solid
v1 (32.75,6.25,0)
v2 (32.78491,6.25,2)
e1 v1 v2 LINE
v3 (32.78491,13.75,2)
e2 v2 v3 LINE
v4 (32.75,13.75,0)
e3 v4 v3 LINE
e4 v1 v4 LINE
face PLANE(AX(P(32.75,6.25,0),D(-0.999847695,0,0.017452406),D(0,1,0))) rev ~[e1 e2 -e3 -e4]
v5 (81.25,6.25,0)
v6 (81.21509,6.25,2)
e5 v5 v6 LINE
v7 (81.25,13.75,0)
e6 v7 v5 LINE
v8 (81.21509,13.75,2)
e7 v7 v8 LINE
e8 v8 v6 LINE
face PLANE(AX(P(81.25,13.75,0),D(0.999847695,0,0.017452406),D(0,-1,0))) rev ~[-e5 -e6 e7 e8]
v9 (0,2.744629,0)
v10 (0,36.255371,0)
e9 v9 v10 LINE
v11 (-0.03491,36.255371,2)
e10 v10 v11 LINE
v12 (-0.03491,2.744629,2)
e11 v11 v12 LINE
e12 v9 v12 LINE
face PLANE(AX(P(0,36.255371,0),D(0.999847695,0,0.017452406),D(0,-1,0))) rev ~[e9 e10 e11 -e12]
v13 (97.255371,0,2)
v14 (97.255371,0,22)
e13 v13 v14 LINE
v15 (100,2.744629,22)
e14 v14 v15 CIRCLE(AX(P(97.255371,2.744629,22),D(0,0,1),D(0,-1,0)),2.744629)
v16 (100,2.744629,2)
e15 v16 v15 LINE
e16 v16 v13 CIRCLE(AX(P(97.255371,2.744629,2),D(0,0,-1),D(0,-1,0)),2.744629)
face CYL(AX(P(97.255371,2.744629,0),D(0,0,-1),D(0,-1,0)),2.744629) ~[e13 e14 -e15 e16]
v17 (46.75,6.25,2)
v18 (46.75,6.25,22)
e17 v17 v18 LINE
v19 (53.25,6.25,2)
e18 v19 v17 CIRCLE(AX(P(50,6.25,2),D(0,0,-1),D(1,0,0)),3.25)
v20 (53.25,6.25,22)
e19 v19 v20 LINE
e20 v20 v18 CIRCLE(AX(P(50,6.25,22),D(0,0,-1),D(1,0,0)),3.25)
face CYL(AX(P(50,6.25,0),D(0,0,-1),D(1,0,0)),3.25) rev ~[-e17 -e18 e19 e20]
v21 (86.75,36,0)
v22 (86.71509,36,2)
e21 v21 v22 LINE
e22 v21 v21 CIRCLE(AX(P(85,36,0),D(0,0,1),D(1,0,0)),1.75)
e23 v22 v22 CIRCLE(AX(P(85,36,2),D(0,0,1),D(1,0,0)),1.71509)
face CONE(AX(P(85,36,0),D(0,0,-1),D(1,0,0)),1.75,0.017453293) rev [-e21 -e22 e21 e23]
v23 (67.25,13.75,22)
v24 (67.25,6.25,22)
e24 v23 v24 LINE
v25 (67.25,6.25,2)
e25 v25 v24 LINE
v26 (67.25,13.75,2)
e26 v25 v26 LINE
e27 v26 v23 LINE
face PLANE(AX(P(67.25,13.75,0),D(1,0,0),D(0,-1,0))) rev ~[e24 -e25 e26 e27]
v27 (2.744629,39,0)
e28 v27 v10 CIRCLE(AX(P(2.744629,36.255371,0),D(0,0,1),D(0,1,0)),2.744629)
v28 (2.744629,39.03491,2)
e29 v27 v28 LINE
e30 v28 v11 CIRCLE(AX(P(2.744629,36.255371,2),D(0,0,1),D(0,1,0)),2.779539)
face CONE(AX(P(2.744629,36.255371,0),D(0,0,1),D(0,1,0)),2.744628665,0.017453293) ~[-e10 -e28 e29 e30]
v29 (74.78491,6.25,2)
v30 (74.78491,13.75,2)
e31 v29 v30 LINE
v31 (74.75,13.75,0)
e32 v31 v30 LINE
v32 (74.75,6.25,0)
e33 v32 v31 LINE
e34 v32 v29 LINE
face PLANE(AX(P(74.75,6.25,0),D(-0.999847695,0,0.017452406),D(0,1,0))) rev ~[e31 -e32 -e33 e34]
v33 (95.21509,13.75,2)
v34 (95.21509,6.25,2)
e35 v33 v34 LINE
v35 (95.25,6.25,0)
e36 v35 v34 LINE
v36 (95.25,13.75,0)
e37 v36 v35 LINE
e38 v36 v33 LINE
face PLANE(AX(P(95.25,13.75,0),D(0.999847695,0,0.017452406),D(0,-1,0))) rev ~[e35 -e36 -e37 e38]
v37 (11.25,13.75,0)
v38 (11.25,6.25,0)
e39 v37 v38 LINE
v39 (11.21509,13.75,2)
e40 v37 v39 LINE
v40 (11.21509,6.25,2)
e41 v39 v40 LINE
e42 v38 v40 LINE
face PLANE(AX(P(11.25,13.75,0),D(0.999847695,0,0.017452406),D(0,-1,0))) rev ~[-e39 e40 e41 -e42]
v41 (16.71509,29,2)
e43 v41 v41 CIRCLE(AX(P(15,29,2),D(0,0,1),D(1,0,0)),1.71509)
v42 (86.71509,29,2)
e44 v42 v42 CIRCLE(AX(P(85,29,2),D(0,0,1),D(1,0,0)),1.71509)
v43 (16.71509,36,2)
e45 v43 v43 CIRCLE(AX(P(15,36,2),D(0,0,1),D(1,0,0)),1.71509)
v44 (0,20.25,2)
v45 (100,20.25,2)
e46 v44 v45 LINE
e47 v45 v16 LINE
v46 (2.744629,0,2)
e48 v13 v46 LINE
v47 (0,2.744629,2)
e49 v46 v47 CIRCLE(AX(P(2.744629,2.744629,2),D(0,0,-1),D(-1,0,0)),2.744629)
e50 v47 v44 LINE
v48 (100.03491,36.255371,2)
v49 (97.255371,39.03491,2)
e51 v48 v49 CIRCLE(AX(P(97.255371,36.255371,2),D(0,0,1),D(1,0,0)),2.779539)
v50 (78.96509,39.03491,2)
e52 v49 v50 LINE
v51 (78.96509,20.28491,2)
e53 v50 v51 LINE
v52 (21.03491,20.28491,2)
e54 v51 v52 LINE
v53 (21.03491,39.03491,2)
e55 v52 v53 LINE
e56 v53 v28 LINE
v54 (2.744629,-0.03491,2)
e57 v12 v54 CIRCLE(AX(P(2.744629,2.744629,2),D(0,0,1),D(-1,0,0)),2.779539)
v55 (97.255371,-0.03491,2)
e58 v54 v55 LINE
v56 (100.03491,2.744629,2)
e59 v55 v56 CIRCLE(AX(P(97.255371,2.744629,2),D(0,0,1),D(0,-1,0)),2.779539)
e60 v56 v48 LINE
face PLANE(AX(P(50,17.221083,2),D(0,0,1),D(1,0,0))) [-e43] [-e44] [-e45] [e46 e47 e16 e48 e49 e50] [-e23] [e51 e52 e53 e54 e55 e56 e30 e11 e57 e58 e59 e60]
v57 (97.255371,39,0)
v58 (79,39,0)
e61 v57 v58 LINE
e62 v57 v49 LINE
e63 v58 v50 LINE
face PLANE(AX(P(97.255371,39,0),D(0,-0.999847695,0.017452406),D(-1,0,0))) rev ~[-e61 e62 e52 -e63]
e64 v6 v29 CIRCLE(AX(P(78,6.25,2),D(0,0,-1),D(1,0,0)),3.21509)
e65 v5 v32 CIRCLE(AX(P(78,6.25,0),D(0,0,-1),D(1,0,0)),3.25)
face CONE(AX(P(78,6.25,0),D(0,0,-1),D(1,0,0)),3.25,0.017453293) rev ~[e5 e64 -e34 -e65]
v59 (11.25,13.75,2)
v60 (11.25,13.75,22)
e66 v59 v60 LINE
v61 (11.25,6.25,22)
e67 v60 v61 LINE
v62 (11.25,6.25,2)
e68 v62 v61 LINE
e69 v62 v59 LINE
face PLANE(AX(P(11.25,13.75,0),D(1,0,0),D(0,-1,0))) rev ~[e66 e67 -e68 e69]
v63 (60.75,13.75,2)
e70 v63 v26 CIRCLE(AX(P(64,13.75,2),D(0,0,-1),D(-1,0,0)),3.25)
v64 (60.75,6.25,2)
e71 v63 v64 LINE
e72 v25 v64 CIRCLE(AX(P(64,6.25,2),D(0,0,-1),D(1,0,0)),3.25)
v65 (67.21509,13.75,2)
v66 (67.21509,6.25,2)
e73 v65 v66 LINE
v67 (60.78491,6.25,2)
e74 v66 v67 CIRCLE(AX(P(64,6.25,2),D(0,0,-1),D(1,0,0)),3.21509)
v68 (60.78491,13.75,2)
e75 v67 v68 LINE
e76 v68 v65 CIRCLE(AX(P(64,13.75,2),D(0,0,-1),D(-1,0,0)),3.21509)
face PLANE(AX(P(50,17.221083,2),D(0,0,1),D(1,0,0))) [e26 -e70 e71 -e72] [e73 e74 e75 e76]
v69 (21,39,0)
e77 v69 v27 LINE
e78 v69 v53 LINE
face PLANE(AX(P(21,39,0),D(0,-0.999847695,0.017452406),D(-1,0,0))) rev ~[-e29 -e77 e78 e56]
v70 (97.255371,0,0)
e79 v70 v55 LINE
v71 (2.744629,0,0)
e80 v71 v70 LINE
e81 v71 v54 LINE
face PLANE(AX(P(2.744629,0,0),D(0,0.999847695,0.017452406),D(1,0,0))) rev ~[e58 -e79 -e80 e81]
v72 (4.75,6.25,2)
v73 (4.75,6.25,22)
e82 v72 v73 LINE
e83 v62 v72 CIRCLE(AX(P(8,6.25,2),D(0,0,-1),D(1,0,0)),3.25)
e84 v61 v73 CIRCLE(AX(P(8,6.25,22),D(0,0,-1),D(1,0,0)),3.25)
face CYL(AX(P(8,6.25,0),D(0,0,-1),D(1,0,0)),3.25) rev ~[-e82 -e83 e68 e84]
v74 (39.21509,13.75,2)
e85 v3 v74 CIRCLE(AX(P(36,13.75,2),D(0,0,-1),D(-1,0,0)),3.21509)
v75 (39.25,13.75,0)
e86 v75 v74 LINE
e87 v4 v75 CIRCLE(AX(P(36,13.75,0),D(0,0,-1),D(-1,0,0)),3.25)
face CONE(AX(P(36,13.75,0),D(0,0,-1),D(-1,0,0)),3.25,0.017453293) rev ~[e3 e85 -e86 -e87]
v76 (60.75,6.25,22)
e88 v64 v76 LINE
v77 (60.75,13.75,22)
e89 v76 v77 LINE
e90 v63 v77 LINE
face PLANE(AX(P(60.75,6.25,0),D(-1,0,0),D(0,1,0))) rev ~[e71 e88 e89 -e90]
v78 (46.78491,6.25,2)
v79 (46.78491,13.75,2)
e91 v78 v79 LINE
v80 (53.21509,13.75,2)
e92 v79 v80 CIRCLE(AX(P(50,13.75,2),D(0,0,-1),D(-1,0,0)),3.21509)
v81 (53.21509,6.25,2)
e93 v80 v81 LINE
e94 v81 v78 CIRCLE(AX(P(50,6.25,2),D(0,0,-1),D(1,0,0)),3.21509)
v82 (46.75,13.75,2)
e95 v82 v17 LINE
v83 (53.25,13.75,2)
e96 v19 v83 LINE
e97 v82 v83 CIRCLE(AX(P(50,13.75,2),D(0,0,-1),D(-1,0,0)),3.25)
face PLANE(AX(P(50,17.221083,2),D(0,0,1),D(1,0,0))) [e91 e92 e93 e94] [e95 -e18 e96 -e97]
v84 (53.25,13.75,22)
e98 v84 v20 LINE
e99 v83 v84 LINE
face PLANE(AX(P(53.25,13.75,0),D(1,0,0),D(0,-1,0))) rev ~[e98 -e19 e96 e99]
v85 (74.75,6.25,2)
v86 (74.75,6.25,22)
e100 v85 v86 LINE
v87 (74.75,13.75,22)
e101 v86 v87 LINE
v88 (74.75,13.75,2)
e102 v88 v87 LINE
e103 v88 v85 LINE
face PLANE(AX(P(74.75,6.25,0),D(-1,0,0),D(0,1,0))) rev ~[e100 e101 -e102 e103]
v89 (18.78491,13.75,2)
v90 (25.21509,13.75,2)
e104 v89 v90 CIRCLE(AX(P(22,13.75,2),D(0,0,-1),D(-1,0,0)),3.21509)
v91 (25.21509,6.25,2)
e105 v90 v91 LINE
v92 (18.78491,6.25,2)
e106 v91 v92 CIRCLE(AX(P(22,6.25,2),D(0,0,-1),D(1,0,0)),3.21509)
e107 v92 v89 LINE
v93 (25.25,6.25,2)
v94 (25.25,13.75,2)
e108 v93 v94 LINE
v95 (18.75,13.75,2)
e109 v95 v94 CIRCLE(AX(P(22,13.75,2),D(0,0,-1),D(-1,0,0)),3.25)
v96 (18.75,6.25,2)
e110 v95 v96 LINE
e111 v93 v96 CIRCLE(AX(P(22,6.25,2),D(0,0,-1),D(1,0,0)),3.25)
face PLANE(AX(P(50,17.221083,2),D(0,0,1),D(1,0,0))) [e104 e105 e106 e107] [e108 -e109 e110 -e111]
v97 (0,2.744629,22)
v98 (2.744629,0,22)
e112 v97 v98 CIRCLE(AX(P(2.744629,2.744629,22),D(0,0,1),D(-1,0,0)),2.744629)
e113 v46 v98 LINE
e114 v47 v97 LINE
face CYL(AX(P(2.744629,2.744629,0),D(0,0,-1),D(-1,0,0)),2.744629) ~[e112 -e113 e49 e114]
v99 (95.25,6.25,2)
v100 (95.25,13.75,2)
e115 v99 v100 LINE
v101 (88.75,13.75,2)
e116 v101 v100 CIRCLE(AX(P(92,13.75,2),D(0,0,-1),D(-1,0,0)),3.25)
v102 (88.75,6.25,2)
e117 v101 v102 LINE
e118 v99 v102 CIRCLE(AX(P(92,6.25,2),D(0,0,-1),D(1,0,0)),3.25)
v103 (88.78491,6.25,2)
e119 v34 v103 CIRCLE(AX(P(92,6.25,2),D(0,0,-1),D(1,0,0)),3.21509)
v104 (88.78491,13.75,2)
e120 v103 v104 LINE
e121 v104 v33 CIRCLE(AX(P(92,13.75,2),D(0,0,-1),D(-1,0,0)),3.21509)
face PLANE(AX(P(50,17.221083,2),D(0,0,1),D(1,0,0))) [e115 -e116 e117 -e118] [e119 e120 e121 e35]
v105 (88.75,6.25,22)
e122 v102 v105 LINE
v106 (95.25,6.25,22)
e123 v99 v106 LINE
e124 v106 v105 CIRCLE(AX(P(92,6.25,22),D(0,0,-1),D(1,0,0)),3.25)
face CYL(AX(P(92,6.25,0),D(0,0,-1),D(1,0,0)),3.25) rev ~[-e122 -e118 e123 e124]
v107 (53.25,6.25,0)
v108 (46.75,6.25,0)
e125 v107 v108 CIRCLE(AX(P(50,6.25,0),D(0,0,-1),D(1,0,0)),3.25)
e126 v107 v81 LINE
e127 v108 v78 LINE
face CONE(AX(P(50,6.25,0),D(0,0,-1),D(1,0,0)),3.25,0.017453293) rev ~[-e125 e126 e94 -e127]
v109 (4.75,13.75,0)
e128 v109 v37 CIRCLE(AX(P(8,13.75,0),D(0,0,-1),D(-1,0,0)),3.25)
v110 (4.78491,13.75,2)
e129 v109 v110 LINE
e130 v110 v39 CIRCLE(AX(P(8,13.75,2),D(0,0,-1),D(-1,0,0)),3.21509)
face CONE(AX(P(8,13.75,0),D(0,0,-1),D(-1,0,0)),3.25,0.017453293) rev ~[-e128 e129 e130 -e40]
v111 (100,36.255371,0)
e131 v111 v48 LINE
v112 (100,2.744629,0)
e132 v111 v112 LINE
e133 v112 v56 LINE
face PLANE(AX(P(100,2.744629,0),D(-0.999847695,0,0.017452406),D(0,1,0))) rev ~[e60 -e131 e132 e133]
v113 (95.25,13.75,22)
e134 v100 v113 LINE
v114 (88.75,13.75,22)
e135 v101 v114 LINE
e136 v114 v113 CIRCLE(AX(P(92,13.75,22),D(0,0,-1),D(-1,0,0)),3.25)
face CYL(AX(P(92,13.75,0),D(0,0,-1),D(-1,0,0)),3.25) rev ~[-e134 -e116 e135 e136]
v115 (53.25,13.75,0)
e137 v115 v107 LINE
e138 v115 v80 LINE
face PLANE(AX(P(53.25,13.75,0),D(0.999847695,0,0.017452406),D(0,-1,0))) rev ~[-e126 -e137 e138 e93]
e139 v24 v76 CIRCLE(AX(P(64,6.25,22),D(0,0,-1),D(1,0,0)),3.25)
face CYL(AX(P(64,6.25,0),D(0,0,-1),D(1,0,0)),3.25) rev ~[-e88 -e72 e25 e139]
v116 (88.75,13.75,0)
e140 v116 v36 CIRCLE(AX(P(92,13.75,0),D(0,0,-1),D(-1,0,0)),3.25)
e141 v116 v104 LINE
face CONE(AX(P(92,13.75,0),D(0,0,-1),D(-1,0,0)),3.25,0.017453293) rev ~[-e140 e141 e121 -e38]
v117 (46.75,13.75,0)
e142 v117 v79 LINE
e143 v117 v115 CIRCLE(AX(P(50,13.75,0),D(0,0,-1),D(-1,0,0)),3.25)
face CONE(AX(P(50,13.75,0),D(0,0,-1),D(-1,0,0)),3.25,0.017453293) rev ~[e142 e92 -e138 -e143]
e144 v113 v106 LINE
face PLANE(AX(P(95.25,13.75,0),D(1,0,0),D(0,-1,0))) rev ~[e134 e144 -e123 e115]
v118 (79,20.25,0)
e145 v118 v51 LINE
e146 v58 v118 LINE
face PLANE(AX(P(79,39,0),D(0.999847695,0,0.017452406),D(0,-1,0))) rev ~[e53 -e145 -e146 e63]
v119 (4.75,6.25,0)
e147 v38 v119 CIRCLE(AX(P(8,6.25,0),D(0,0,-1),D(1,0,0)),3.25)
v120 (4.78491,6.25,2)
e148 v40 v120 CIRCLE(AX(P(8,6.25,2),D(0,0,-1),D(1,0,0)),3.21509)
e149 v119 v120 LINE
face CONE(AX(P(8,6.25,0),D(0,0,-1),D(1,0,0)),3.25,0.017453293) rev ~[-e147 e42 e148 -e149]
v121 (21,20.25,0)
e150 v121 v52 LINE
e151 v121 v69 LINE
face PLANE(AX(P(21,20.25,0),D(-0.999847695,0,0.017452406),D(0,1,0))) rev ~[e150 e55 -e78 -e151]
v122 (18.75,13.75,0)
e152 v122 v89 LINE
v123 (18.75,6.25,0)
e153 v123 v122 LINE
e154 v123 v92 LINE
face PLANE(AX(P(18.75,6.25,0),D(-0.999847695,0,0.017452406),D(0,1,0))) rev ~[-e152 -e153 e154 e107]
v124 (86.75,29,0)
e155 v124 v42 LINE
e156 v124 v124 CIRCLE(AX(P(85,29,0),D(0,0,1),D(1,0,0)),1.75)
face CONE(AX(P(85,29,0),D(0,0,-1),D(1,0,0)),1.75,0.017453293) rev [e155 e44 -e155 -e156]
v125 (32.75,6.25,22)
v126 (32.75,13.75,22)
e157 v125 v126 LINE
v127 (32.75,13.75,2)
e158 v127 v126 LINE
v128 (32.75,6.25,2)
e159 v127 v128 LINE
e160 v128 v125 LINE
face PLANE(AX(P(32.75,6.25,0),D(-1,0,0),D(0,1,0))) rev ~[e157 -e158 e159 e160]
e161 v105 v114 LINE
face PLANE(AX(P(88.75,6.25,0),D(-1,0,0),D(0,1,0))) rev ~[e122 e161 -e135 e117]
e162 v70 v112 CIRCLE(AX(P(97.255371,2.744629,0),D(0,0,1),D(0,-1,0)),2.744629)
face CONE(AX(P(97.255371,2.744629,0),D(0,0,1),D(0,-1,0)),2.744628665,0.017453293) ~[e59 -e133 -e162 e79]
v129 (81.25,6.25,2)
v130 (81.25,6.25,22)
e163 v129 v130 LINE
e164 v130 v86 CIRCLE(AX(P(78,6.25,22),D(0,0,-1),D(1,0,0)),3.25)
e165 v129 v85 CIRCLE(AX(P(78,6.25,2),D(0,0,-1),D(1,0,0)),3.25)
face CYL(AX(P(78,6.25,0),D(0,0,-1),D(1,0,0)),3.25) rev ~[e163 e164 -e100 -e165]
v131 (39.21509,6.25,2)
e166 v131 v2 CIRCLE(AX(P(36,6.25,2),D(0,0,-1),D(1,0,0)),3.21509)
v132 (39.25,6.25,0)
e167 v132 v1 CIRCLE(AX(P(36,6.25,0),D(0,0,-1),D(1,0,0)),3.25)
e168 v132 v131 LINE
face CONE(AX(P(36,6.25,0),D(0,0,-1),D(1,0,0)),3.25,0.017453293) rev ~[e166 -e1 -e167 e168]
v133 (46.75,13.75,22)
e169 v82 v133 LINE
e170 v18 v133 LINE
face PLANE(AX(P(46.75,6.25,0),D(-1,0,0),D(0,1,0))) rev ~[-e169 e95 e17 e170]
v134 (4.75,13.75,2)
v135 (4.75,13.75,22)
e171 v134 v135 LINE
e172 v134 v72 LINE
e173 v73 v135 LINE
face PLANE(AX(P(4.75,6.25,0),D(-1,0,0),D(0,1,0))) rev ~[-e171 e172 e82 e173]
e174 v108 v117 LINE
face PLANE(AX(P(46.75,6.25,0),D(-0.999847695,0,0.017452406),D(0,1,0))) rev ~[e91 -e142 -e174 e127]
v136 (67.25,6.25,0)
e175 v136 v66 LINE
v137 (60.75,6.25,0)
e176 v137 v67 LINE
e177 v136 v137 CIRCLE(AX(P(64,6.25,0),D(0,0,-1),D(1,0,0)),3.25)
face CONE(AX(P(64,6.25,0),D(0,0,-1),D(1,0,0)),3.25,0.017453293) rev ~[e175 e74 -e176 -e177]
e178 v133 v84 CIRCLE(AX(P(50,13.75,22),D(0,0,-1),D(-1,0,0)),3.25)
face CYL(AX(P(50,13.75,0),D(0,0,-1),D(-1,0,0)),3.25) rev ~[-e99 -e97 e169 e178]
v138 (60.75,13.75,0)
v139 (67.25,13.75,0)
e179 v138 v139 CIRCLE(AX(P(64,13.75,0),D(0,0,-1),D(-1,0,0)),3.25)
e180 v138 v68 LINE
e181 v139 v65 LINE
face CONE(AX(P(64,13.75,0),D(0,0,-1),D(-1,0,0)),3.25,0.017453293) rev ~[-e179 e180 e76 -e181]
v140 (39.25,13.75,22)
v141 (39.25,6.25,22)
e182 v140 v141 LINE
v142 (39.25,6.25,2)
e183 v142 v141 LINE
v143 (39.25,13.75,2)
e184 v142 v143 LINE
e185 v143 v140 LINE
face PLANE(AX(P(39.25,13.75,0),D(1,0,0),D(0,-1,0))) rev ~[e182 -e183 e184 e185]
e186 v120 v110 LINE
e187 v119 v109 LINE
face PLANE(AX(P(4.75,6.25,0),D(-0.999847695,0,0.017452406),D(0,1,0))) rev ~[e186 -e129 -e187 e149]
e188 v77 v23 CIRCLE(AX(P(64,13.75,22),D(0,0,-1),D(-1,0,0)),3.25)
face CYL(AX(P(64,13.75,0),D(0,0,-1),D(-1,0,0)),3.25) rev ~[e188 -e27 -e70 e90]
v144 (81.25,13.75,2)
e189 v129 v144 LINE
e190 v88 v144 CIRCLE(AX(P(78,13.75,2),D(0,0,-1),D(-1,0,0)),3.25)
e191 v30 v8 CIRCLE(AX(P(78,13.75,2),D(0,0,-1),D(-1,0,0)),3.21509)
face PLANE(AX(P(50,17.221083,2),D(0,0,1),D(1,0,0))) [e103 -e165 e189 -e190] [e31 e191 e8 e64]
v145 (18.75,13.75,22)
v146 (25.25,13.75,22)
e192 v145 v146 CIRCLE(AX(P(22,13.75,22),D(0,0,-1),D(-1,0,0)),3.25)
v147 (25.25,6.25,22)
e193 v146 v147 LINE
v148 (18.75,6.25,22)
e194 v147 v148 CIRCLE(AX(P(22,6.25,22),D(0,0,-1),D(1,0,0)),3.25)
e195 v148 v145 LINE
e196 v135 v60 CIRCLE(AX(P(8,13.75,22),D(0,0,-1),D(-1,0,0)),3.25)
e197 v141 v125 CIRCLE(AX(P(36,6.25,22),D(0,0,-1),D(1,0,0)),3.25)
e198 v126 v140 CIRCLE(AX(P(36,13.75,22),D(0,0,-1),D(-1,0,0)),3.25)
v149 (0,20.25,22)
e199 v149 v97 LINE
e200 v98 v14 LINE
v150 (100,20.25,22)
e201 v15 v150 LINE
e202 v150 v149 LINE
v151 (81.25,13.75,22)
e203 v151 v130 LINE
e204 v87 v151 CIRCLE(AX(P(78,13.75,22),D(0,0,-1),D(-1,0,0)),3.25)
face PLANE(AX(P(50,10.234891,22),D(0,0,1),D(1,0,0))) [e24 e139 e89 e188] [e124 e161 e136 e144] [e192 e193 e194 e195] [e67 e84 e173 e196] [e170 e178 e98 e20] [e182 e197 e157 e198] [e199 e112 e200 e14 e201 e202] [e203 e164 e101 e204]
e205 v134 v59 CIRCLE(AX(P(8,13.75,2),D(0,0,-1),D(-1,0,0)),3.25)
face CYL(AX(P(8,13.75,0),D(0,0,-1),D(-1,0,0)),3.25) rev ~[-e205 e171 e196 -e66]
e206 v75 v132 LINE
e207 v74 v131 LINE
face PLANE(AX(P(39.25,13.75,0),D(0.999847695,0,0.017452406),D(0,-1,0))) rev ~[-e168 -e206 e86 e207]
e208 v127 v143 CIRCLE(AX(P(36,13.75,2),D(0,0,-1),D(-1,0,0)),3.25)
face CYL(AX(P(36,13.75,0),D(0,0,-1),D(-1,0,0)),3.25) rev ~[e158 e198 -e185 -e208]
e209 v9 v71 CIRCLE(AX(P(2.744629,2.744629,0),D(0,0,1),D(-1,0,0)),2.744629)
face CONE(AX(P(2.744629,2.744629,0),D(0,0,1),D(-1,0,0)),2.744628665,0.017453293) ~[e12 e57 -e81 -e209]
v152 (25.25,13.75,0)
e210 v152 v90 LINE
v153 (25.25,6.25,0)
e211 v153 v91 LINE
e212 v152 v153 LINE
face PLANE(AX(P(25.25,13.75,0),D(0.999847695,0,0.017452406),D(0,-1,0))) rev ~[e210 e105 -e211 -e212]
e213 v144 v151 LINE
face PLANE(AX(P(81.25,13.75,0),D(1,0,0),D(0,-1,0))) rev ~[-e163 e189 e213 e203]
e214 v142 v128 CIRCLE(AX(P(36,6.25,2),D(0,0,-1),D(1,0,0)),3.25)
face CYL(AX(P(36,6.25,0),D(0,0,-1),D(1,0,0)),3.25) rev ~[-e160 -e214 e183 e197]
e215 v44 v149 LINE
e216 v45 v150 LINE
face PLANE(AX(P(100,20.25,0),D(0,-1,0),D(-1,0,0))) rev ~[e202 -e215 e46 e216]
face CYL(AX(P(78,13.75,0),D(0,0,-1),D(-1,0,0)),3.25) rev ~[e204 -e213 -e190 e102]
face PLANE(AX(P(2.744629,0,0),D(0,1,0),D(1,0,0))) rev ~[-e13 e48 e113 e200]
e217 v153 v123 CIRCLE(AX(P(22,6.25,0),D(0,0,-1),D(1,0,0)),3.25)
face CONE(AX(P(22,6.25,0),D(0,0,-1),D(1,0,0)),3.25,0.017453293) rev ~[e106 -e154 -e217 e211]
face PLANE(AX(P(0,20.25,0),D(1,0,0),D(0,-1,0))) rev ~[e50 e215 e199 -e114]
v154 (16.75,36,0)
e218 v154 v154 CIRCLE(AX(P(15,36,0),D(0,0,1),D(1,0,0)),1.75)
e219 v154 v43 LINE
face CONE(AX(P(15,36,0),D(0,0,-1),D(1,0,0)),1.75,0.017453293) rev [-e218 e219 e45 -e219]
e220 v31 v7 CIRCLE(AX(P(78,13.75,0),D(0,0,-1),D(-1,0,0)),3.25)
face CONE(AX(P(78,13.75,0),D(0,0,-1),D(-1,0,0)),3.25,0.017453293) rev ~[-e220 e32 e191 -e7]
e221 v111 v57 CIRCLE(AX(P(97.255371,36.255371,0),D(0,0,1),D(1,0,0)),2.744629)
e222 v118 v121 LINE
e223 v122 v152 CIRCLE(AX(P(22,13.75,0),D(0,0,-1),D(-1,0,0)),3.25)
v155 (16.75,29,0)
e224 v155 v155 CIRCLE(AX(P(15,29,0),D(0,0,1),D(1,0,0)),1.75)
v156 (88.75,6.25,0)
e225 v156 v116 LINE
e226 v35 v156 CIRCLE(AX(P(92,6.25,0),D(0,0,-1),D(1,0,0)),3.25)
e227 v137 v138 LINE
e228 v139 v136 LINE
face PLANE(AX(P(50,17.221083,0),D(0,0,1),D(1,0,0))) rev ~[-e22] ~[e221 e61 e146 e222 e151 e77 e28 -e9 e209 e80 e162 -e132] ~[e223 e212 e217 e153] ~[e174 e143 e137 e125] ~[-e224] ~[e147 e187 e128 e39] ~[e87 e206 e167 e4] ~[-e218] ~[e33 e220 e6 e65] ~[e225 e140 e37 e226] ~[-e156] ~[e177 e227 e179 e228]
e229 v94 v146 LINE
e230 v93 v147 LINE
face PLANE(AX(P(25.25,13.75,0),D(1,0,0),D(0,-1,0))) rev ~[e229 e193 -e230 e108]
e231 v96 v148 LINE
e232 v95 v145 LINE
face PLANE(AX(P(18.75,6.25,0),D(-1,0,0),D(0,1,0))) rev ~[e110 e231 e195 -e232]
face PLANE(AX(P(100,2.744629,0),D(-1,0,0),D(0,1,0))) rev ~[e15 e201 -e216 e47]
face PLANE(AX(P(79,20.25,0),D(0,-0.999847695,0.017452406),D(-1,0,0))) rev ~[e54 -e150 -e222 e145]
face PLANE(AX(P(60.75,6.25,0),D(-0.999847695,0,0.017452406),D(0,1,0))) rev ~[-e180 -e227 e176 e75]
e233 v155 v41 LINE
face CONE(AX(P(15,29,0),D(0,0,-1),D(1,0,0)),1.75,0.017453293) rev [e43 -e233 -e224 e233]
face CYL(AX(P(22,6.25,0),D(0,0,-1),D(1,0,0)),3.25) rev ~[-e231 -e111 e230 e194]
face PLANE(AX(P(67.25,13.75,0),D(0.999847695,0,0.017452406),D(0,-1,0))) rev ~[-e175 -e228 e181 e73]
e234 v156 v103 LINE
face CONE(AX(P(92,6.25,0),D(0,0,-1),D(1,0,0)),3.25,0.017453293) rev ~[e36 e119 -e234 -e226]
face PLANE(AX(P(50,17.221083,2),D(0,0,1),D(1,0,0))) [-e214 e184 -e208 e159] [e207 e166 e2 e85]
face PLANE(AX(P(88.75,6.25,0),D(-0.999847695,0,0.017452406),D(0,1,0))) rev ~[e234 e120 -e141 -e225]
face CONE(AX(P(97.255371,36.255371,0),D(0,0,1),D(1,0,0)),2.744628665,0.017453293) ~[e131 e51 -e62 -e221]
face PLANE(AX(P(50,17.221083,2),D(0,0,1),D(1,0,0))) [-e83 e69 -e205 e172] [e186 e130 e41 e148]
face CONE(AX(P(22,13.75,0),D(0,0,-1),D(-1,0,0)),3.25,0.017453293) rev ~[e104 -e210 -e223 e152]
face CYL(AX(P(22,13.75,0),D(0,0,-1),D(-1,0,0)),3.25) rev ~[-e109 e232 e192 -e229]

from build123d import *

# Parameters (mm, degrees)
SKETCH_1_R      = 1.75
EXTRUDE_3_DEPTH = 2
EXTRUDE_3_DRAFT = -1
EXTRUDE_4_DEPTH = 22


with BuildPart() as part:
    # 草图1 → 凸台-拉伸3 (with draft: the straight prism first)
    with BuildSketch(Plane.XY):
        with BuildLine():
            ThreePointArc((0, 2.744628665), (0.803883124, 0.803883124), (2.744628665, 0))
            Line((2.744628665, 0), (97.255371335, 0))
            ThreePointArc((97.255371335, 0), (99.196116876, 0.803883124), (100, 2.744628665))
            Line((100, 2.744628665), (100, 36.255371335))
            ThreePointArc((100, 36.255371335), (99.196116876, 38.196116876), (97.255371335, 39))
            Line((97.255371335, 39), (79, 39))
            Line((79, 39), (79, 20.25))
            Line((79, 20.25), (21, 20.25))
            Line((21, 20.25), (21, 39))
            Line((21, 39), (2.744628665, 39))
            ThreePointArc((2.744628665, 39), (0.803883124, 38.196116876), (0, 36.255371335))
            Line((0, 36.255371335), (0, 2.744628665))
        make_face()
        with BuildLine():
            ThreePointArc((11.25, 6.25), (8, 3), (4.75, 6.25))
            Line((4.75, 6.25), (4.75, 13.75))
            ThreePointArc((4.75, 13.75), (8, 17), (11.25, 13.75))
            Line((11.25, 13.75), (11.25, 6.25))
        make_face(mode=Mode.SUBTRACT)
        with BuildLine():
            ThreePointArc((25.25, 6.25), (22, 3), (18.75, 6.25))
            Line((18.75, 6.25), (18.75, 13.75))
            ThreePointArc((18.75, 13.75), (22, 17), (25.25, 13.75))
            Line((25.25, 13.75), (25.25, 6.25))
        make_face(mode=Mode.SUBTRACT)
        with BuildLine():
            ThreePointArc((39.25, 6.25), (36, 3), (32.75, 6.25))
            Line((32.75, 6.25), (32.75, 13.75))
            ThreePointArc((32.75, 13.75), (36, 17), (39.25, 13.75))
            Line((39.25, 13.75), (39.25, 6.25))
        make_face(mode=Mode.SUBTRACT)
        with BuildLine():
            ThreePointArc((53.25, 6.25), (50, 3), (46.75, 6.25))
            Line((46.75, 6.25), (46.75, 13.75))
            ThreePointArc((46.75, 13.75), (50, 17), (53.25, 13.75))
            Line((53.25, 13.75), (53.25, 6.25))
        make_face(mode=Mode.SUBTRACT)
        with BuildLine():
            ThreePointArc((67.25, 6.25), (64, 3), (60.75, 6.25))
            Line((60.75, 6.25), (60.75, 13.75))
            ThreePointArc((60.75, 13.75), (64, 17), (67.25, 13.75))
            Line((67.25, 13.75), (67.25, 6.25))
        make_face(mode=Mode.SUBTRACT)
        with BuildLine():
            ThreePointArc((81.25, 6.25), (78, 3), (74.75, 6.25))
            Line((74.75, 6.25), (74.75, 13.75))
            ThreePointArc((74.75, 13.75), (78, 17), (81.25, 13.75))
            Line((81.25, 13.75), (81.25, 6.25))
        make_face(mode=Mode.SUBTRACT)
        with BuildLine():
            ThreePointArc((95.25, 6.25), (92, 3), (88.75, 6.25))
            Line((88.75, 6.25), (88.75, 13.75))
            ThreePointArc((88.75, 13.75), (92, 17), (95.25, 13.75))
            Line((95.25, 13.75), (95.25, 6.25))
        make_face(mode=Mode.SUBTRACT)
        with Locations((15, 29)):
            Circle(SKETCH_1_R, mode=Mode.SUBTRACT)
        with Locations((85, 29)):
            Circle(SKETCH_1_R, mode=Mode.SUBTRACT)
        with Locations((15, 36)):
            Circle(SKETCH_1_R, mode=Mode.SUBTRACT)
        with Locations((85, 36)):
            Circle(SKETCH_1_R, mode=Mode.SUBTRACT)
    extrude(amount=EXTRUDE_3_DEPTH)
    # 凸台-拉伸3: the draft: its side faces are tilted about the plane it starts from
    extrude_3_sides = [part.faces().sort_by_distance(p)[0] for p in [
        (21, 29.625, 1),
        (11.872314333, 39, 1),
        (0.803883124, 38.196116876, 1),
        (0, 19.5, 1),
        (0.803883124, 0.803883124, 1),
        (50, 0, 1),
        (99.196116876, 0.803883124, 1),
        (100, 19.5, 1),
        (99.196116876, 38.196116876, 1),
        (88.127685667, 39, 1),
        (79, 29.625, 1),
        (50, 20.25, 1),
        (4.75, 10, 1),
        (8, 17, 1),
        (11.25, 10, 1),
        (8, 3, 1),
        (22, 17, 1),
        (25.25, 10, 1),
        (22, 3, 1),
        (18.75, 10, 1),
        (32.75, 10, 1),
        (36, 17, 1),
        (39.25, 10, 1),
        (36, 3, 1),
        (50, 3, 1),
        (46.75, 10, 1),
        (50, 17, 1),
        (53.25, 10, 1),
        (64, 17, 1),
        (67.25, 10, 1),
        (64, 3, 1),
        (60.75, 10, 1),
        (78, 17, 1),
        (81.25, 10, 1),
        (78, 3, 1),
        (74.75, 10, 1),
        (92, 17, 1),
        (95.25, 10, 1),
        (92, 3, 1),
        (88.75, 10, 1),
        (13.25, 29, 1),
        (83.25, 29, 1),
        (13.25, 36, 1),
        (83.25, 36, 1),
    ]]
    draft(extrude_3_sides, Plane.XY, EXTRUDE_3_DRAFT)

    # 草图1<8> → 凸台-拉伸4 (add)
    with BuildSketch(Plane.XY):
        with BuildLine():
            ThreePointArc((0, 2.744628665), (0.803883124, 0.803883124), (2.744628665, 0))
            Line((2.744628665, 0), (97.255371335, 0))
            ThreePointArc((97.255371335, 0), (99.196116876, 0.803883124), (100, 2.744628665))
            Line((100, 2.744628665), (100, 20.25))
            Line((100, 20.25), (79, 20.25))
            Line((79, 20.25), (21, 20.25))
            Line((21, 20.25), (0, 20.25))
            Line((0, 20.25), (0, 2.744628665))
        make_face()
        with BuildLine():
            ThreePointArc((11.25, 6.25), (8, 3), (4.75, 6.25))
            Line((4.75, 6.25), (4.75, 13.75))
            ThreePointArc((4.75, 13.75), (8, 17), (11.25, 13.75))
            Line((11.25, 13.75), (11.25, 6.25))
        make_face(mode=Mode.SUBTRACT)
        with BuildLine():
            ThreePointArc((25.25, 6.25), (22, 3), (18.75, 6.25))
            Line((18.75, 6.25), (18.75, 13.75))
            ThreePointArc((18.75, 13.75), (22, 17), (25.25, 13.75))
            Line((25.25, 13.75), (25.25, 6.25))
        make_face(mode=Mode.SUBTRACT)
        with BuildLine():
            ThreePointArc((39.25, 6.25), (36, 3), (32.75, 6.25))
            Line((32.75, 6.25), (32.75, 13.75))
            ThreePointArc((32.75, 13.75), (36, 17), (39.25, 13.75))
            Line((39.25, 13.75), (39.25, 6.25))
        make_face(mode=Mode.SUBTRACT)
        with BuildLine():
            ThreePointArc((53.25, 6.25), (50, 3), (46.75, 6.25))
            Line((46.75, 6.25), (46.75, 13.75))
            ThreePointArc((46.75, 13.75), (50, 17), (53.25, 13.75))
            Line((53.25, 13.75), (53.25, 6.25))
        make_face(mode=Mode.SUBTRACT)
        with BuildLine():
            ThreePointArc((67.25, 6.25), (64, 3), (60.75, 6.25))
            Line((60.75, 6.25), (60.75, 13.75))
            ThreePointArc((60.75, 13.75), (64, 17), (67.25, 13.75))
            Line((67.25, 13.75), (67.25, 6.25))
        make_face(mode=Mode.SUBTRACT)
        with BuildLine():
            ThreePointArc((81.25, 6.25), (78, 3), (74.75, 6.25))
            Line((74.75, 6.25), (74.75, 13.75))
            ThreePointArc((74.75, 13.75), (78, 17), (81.25, 13.75))
            Line((81.25, 13.75), (81.25, 6.25))
        make_face(mode=Mode.SUBTRACT)
        with BuildLine():
            ThreePointArc((95.25, 6.25), (92, 3), (88.75, 6.25))
            Line((88.75, 6.25), (88.75, 13.75))
            ThreePointArc((88.75, 13.75), (92, 17), (95.25, 13.75))
            Line((95.25, 13.75), (95.25, 6.25))
        make_face(mode=Mode.SUBTRACT)
    extrude(amount=EXTRUDE_4_DEPTH)


solid = part.part
